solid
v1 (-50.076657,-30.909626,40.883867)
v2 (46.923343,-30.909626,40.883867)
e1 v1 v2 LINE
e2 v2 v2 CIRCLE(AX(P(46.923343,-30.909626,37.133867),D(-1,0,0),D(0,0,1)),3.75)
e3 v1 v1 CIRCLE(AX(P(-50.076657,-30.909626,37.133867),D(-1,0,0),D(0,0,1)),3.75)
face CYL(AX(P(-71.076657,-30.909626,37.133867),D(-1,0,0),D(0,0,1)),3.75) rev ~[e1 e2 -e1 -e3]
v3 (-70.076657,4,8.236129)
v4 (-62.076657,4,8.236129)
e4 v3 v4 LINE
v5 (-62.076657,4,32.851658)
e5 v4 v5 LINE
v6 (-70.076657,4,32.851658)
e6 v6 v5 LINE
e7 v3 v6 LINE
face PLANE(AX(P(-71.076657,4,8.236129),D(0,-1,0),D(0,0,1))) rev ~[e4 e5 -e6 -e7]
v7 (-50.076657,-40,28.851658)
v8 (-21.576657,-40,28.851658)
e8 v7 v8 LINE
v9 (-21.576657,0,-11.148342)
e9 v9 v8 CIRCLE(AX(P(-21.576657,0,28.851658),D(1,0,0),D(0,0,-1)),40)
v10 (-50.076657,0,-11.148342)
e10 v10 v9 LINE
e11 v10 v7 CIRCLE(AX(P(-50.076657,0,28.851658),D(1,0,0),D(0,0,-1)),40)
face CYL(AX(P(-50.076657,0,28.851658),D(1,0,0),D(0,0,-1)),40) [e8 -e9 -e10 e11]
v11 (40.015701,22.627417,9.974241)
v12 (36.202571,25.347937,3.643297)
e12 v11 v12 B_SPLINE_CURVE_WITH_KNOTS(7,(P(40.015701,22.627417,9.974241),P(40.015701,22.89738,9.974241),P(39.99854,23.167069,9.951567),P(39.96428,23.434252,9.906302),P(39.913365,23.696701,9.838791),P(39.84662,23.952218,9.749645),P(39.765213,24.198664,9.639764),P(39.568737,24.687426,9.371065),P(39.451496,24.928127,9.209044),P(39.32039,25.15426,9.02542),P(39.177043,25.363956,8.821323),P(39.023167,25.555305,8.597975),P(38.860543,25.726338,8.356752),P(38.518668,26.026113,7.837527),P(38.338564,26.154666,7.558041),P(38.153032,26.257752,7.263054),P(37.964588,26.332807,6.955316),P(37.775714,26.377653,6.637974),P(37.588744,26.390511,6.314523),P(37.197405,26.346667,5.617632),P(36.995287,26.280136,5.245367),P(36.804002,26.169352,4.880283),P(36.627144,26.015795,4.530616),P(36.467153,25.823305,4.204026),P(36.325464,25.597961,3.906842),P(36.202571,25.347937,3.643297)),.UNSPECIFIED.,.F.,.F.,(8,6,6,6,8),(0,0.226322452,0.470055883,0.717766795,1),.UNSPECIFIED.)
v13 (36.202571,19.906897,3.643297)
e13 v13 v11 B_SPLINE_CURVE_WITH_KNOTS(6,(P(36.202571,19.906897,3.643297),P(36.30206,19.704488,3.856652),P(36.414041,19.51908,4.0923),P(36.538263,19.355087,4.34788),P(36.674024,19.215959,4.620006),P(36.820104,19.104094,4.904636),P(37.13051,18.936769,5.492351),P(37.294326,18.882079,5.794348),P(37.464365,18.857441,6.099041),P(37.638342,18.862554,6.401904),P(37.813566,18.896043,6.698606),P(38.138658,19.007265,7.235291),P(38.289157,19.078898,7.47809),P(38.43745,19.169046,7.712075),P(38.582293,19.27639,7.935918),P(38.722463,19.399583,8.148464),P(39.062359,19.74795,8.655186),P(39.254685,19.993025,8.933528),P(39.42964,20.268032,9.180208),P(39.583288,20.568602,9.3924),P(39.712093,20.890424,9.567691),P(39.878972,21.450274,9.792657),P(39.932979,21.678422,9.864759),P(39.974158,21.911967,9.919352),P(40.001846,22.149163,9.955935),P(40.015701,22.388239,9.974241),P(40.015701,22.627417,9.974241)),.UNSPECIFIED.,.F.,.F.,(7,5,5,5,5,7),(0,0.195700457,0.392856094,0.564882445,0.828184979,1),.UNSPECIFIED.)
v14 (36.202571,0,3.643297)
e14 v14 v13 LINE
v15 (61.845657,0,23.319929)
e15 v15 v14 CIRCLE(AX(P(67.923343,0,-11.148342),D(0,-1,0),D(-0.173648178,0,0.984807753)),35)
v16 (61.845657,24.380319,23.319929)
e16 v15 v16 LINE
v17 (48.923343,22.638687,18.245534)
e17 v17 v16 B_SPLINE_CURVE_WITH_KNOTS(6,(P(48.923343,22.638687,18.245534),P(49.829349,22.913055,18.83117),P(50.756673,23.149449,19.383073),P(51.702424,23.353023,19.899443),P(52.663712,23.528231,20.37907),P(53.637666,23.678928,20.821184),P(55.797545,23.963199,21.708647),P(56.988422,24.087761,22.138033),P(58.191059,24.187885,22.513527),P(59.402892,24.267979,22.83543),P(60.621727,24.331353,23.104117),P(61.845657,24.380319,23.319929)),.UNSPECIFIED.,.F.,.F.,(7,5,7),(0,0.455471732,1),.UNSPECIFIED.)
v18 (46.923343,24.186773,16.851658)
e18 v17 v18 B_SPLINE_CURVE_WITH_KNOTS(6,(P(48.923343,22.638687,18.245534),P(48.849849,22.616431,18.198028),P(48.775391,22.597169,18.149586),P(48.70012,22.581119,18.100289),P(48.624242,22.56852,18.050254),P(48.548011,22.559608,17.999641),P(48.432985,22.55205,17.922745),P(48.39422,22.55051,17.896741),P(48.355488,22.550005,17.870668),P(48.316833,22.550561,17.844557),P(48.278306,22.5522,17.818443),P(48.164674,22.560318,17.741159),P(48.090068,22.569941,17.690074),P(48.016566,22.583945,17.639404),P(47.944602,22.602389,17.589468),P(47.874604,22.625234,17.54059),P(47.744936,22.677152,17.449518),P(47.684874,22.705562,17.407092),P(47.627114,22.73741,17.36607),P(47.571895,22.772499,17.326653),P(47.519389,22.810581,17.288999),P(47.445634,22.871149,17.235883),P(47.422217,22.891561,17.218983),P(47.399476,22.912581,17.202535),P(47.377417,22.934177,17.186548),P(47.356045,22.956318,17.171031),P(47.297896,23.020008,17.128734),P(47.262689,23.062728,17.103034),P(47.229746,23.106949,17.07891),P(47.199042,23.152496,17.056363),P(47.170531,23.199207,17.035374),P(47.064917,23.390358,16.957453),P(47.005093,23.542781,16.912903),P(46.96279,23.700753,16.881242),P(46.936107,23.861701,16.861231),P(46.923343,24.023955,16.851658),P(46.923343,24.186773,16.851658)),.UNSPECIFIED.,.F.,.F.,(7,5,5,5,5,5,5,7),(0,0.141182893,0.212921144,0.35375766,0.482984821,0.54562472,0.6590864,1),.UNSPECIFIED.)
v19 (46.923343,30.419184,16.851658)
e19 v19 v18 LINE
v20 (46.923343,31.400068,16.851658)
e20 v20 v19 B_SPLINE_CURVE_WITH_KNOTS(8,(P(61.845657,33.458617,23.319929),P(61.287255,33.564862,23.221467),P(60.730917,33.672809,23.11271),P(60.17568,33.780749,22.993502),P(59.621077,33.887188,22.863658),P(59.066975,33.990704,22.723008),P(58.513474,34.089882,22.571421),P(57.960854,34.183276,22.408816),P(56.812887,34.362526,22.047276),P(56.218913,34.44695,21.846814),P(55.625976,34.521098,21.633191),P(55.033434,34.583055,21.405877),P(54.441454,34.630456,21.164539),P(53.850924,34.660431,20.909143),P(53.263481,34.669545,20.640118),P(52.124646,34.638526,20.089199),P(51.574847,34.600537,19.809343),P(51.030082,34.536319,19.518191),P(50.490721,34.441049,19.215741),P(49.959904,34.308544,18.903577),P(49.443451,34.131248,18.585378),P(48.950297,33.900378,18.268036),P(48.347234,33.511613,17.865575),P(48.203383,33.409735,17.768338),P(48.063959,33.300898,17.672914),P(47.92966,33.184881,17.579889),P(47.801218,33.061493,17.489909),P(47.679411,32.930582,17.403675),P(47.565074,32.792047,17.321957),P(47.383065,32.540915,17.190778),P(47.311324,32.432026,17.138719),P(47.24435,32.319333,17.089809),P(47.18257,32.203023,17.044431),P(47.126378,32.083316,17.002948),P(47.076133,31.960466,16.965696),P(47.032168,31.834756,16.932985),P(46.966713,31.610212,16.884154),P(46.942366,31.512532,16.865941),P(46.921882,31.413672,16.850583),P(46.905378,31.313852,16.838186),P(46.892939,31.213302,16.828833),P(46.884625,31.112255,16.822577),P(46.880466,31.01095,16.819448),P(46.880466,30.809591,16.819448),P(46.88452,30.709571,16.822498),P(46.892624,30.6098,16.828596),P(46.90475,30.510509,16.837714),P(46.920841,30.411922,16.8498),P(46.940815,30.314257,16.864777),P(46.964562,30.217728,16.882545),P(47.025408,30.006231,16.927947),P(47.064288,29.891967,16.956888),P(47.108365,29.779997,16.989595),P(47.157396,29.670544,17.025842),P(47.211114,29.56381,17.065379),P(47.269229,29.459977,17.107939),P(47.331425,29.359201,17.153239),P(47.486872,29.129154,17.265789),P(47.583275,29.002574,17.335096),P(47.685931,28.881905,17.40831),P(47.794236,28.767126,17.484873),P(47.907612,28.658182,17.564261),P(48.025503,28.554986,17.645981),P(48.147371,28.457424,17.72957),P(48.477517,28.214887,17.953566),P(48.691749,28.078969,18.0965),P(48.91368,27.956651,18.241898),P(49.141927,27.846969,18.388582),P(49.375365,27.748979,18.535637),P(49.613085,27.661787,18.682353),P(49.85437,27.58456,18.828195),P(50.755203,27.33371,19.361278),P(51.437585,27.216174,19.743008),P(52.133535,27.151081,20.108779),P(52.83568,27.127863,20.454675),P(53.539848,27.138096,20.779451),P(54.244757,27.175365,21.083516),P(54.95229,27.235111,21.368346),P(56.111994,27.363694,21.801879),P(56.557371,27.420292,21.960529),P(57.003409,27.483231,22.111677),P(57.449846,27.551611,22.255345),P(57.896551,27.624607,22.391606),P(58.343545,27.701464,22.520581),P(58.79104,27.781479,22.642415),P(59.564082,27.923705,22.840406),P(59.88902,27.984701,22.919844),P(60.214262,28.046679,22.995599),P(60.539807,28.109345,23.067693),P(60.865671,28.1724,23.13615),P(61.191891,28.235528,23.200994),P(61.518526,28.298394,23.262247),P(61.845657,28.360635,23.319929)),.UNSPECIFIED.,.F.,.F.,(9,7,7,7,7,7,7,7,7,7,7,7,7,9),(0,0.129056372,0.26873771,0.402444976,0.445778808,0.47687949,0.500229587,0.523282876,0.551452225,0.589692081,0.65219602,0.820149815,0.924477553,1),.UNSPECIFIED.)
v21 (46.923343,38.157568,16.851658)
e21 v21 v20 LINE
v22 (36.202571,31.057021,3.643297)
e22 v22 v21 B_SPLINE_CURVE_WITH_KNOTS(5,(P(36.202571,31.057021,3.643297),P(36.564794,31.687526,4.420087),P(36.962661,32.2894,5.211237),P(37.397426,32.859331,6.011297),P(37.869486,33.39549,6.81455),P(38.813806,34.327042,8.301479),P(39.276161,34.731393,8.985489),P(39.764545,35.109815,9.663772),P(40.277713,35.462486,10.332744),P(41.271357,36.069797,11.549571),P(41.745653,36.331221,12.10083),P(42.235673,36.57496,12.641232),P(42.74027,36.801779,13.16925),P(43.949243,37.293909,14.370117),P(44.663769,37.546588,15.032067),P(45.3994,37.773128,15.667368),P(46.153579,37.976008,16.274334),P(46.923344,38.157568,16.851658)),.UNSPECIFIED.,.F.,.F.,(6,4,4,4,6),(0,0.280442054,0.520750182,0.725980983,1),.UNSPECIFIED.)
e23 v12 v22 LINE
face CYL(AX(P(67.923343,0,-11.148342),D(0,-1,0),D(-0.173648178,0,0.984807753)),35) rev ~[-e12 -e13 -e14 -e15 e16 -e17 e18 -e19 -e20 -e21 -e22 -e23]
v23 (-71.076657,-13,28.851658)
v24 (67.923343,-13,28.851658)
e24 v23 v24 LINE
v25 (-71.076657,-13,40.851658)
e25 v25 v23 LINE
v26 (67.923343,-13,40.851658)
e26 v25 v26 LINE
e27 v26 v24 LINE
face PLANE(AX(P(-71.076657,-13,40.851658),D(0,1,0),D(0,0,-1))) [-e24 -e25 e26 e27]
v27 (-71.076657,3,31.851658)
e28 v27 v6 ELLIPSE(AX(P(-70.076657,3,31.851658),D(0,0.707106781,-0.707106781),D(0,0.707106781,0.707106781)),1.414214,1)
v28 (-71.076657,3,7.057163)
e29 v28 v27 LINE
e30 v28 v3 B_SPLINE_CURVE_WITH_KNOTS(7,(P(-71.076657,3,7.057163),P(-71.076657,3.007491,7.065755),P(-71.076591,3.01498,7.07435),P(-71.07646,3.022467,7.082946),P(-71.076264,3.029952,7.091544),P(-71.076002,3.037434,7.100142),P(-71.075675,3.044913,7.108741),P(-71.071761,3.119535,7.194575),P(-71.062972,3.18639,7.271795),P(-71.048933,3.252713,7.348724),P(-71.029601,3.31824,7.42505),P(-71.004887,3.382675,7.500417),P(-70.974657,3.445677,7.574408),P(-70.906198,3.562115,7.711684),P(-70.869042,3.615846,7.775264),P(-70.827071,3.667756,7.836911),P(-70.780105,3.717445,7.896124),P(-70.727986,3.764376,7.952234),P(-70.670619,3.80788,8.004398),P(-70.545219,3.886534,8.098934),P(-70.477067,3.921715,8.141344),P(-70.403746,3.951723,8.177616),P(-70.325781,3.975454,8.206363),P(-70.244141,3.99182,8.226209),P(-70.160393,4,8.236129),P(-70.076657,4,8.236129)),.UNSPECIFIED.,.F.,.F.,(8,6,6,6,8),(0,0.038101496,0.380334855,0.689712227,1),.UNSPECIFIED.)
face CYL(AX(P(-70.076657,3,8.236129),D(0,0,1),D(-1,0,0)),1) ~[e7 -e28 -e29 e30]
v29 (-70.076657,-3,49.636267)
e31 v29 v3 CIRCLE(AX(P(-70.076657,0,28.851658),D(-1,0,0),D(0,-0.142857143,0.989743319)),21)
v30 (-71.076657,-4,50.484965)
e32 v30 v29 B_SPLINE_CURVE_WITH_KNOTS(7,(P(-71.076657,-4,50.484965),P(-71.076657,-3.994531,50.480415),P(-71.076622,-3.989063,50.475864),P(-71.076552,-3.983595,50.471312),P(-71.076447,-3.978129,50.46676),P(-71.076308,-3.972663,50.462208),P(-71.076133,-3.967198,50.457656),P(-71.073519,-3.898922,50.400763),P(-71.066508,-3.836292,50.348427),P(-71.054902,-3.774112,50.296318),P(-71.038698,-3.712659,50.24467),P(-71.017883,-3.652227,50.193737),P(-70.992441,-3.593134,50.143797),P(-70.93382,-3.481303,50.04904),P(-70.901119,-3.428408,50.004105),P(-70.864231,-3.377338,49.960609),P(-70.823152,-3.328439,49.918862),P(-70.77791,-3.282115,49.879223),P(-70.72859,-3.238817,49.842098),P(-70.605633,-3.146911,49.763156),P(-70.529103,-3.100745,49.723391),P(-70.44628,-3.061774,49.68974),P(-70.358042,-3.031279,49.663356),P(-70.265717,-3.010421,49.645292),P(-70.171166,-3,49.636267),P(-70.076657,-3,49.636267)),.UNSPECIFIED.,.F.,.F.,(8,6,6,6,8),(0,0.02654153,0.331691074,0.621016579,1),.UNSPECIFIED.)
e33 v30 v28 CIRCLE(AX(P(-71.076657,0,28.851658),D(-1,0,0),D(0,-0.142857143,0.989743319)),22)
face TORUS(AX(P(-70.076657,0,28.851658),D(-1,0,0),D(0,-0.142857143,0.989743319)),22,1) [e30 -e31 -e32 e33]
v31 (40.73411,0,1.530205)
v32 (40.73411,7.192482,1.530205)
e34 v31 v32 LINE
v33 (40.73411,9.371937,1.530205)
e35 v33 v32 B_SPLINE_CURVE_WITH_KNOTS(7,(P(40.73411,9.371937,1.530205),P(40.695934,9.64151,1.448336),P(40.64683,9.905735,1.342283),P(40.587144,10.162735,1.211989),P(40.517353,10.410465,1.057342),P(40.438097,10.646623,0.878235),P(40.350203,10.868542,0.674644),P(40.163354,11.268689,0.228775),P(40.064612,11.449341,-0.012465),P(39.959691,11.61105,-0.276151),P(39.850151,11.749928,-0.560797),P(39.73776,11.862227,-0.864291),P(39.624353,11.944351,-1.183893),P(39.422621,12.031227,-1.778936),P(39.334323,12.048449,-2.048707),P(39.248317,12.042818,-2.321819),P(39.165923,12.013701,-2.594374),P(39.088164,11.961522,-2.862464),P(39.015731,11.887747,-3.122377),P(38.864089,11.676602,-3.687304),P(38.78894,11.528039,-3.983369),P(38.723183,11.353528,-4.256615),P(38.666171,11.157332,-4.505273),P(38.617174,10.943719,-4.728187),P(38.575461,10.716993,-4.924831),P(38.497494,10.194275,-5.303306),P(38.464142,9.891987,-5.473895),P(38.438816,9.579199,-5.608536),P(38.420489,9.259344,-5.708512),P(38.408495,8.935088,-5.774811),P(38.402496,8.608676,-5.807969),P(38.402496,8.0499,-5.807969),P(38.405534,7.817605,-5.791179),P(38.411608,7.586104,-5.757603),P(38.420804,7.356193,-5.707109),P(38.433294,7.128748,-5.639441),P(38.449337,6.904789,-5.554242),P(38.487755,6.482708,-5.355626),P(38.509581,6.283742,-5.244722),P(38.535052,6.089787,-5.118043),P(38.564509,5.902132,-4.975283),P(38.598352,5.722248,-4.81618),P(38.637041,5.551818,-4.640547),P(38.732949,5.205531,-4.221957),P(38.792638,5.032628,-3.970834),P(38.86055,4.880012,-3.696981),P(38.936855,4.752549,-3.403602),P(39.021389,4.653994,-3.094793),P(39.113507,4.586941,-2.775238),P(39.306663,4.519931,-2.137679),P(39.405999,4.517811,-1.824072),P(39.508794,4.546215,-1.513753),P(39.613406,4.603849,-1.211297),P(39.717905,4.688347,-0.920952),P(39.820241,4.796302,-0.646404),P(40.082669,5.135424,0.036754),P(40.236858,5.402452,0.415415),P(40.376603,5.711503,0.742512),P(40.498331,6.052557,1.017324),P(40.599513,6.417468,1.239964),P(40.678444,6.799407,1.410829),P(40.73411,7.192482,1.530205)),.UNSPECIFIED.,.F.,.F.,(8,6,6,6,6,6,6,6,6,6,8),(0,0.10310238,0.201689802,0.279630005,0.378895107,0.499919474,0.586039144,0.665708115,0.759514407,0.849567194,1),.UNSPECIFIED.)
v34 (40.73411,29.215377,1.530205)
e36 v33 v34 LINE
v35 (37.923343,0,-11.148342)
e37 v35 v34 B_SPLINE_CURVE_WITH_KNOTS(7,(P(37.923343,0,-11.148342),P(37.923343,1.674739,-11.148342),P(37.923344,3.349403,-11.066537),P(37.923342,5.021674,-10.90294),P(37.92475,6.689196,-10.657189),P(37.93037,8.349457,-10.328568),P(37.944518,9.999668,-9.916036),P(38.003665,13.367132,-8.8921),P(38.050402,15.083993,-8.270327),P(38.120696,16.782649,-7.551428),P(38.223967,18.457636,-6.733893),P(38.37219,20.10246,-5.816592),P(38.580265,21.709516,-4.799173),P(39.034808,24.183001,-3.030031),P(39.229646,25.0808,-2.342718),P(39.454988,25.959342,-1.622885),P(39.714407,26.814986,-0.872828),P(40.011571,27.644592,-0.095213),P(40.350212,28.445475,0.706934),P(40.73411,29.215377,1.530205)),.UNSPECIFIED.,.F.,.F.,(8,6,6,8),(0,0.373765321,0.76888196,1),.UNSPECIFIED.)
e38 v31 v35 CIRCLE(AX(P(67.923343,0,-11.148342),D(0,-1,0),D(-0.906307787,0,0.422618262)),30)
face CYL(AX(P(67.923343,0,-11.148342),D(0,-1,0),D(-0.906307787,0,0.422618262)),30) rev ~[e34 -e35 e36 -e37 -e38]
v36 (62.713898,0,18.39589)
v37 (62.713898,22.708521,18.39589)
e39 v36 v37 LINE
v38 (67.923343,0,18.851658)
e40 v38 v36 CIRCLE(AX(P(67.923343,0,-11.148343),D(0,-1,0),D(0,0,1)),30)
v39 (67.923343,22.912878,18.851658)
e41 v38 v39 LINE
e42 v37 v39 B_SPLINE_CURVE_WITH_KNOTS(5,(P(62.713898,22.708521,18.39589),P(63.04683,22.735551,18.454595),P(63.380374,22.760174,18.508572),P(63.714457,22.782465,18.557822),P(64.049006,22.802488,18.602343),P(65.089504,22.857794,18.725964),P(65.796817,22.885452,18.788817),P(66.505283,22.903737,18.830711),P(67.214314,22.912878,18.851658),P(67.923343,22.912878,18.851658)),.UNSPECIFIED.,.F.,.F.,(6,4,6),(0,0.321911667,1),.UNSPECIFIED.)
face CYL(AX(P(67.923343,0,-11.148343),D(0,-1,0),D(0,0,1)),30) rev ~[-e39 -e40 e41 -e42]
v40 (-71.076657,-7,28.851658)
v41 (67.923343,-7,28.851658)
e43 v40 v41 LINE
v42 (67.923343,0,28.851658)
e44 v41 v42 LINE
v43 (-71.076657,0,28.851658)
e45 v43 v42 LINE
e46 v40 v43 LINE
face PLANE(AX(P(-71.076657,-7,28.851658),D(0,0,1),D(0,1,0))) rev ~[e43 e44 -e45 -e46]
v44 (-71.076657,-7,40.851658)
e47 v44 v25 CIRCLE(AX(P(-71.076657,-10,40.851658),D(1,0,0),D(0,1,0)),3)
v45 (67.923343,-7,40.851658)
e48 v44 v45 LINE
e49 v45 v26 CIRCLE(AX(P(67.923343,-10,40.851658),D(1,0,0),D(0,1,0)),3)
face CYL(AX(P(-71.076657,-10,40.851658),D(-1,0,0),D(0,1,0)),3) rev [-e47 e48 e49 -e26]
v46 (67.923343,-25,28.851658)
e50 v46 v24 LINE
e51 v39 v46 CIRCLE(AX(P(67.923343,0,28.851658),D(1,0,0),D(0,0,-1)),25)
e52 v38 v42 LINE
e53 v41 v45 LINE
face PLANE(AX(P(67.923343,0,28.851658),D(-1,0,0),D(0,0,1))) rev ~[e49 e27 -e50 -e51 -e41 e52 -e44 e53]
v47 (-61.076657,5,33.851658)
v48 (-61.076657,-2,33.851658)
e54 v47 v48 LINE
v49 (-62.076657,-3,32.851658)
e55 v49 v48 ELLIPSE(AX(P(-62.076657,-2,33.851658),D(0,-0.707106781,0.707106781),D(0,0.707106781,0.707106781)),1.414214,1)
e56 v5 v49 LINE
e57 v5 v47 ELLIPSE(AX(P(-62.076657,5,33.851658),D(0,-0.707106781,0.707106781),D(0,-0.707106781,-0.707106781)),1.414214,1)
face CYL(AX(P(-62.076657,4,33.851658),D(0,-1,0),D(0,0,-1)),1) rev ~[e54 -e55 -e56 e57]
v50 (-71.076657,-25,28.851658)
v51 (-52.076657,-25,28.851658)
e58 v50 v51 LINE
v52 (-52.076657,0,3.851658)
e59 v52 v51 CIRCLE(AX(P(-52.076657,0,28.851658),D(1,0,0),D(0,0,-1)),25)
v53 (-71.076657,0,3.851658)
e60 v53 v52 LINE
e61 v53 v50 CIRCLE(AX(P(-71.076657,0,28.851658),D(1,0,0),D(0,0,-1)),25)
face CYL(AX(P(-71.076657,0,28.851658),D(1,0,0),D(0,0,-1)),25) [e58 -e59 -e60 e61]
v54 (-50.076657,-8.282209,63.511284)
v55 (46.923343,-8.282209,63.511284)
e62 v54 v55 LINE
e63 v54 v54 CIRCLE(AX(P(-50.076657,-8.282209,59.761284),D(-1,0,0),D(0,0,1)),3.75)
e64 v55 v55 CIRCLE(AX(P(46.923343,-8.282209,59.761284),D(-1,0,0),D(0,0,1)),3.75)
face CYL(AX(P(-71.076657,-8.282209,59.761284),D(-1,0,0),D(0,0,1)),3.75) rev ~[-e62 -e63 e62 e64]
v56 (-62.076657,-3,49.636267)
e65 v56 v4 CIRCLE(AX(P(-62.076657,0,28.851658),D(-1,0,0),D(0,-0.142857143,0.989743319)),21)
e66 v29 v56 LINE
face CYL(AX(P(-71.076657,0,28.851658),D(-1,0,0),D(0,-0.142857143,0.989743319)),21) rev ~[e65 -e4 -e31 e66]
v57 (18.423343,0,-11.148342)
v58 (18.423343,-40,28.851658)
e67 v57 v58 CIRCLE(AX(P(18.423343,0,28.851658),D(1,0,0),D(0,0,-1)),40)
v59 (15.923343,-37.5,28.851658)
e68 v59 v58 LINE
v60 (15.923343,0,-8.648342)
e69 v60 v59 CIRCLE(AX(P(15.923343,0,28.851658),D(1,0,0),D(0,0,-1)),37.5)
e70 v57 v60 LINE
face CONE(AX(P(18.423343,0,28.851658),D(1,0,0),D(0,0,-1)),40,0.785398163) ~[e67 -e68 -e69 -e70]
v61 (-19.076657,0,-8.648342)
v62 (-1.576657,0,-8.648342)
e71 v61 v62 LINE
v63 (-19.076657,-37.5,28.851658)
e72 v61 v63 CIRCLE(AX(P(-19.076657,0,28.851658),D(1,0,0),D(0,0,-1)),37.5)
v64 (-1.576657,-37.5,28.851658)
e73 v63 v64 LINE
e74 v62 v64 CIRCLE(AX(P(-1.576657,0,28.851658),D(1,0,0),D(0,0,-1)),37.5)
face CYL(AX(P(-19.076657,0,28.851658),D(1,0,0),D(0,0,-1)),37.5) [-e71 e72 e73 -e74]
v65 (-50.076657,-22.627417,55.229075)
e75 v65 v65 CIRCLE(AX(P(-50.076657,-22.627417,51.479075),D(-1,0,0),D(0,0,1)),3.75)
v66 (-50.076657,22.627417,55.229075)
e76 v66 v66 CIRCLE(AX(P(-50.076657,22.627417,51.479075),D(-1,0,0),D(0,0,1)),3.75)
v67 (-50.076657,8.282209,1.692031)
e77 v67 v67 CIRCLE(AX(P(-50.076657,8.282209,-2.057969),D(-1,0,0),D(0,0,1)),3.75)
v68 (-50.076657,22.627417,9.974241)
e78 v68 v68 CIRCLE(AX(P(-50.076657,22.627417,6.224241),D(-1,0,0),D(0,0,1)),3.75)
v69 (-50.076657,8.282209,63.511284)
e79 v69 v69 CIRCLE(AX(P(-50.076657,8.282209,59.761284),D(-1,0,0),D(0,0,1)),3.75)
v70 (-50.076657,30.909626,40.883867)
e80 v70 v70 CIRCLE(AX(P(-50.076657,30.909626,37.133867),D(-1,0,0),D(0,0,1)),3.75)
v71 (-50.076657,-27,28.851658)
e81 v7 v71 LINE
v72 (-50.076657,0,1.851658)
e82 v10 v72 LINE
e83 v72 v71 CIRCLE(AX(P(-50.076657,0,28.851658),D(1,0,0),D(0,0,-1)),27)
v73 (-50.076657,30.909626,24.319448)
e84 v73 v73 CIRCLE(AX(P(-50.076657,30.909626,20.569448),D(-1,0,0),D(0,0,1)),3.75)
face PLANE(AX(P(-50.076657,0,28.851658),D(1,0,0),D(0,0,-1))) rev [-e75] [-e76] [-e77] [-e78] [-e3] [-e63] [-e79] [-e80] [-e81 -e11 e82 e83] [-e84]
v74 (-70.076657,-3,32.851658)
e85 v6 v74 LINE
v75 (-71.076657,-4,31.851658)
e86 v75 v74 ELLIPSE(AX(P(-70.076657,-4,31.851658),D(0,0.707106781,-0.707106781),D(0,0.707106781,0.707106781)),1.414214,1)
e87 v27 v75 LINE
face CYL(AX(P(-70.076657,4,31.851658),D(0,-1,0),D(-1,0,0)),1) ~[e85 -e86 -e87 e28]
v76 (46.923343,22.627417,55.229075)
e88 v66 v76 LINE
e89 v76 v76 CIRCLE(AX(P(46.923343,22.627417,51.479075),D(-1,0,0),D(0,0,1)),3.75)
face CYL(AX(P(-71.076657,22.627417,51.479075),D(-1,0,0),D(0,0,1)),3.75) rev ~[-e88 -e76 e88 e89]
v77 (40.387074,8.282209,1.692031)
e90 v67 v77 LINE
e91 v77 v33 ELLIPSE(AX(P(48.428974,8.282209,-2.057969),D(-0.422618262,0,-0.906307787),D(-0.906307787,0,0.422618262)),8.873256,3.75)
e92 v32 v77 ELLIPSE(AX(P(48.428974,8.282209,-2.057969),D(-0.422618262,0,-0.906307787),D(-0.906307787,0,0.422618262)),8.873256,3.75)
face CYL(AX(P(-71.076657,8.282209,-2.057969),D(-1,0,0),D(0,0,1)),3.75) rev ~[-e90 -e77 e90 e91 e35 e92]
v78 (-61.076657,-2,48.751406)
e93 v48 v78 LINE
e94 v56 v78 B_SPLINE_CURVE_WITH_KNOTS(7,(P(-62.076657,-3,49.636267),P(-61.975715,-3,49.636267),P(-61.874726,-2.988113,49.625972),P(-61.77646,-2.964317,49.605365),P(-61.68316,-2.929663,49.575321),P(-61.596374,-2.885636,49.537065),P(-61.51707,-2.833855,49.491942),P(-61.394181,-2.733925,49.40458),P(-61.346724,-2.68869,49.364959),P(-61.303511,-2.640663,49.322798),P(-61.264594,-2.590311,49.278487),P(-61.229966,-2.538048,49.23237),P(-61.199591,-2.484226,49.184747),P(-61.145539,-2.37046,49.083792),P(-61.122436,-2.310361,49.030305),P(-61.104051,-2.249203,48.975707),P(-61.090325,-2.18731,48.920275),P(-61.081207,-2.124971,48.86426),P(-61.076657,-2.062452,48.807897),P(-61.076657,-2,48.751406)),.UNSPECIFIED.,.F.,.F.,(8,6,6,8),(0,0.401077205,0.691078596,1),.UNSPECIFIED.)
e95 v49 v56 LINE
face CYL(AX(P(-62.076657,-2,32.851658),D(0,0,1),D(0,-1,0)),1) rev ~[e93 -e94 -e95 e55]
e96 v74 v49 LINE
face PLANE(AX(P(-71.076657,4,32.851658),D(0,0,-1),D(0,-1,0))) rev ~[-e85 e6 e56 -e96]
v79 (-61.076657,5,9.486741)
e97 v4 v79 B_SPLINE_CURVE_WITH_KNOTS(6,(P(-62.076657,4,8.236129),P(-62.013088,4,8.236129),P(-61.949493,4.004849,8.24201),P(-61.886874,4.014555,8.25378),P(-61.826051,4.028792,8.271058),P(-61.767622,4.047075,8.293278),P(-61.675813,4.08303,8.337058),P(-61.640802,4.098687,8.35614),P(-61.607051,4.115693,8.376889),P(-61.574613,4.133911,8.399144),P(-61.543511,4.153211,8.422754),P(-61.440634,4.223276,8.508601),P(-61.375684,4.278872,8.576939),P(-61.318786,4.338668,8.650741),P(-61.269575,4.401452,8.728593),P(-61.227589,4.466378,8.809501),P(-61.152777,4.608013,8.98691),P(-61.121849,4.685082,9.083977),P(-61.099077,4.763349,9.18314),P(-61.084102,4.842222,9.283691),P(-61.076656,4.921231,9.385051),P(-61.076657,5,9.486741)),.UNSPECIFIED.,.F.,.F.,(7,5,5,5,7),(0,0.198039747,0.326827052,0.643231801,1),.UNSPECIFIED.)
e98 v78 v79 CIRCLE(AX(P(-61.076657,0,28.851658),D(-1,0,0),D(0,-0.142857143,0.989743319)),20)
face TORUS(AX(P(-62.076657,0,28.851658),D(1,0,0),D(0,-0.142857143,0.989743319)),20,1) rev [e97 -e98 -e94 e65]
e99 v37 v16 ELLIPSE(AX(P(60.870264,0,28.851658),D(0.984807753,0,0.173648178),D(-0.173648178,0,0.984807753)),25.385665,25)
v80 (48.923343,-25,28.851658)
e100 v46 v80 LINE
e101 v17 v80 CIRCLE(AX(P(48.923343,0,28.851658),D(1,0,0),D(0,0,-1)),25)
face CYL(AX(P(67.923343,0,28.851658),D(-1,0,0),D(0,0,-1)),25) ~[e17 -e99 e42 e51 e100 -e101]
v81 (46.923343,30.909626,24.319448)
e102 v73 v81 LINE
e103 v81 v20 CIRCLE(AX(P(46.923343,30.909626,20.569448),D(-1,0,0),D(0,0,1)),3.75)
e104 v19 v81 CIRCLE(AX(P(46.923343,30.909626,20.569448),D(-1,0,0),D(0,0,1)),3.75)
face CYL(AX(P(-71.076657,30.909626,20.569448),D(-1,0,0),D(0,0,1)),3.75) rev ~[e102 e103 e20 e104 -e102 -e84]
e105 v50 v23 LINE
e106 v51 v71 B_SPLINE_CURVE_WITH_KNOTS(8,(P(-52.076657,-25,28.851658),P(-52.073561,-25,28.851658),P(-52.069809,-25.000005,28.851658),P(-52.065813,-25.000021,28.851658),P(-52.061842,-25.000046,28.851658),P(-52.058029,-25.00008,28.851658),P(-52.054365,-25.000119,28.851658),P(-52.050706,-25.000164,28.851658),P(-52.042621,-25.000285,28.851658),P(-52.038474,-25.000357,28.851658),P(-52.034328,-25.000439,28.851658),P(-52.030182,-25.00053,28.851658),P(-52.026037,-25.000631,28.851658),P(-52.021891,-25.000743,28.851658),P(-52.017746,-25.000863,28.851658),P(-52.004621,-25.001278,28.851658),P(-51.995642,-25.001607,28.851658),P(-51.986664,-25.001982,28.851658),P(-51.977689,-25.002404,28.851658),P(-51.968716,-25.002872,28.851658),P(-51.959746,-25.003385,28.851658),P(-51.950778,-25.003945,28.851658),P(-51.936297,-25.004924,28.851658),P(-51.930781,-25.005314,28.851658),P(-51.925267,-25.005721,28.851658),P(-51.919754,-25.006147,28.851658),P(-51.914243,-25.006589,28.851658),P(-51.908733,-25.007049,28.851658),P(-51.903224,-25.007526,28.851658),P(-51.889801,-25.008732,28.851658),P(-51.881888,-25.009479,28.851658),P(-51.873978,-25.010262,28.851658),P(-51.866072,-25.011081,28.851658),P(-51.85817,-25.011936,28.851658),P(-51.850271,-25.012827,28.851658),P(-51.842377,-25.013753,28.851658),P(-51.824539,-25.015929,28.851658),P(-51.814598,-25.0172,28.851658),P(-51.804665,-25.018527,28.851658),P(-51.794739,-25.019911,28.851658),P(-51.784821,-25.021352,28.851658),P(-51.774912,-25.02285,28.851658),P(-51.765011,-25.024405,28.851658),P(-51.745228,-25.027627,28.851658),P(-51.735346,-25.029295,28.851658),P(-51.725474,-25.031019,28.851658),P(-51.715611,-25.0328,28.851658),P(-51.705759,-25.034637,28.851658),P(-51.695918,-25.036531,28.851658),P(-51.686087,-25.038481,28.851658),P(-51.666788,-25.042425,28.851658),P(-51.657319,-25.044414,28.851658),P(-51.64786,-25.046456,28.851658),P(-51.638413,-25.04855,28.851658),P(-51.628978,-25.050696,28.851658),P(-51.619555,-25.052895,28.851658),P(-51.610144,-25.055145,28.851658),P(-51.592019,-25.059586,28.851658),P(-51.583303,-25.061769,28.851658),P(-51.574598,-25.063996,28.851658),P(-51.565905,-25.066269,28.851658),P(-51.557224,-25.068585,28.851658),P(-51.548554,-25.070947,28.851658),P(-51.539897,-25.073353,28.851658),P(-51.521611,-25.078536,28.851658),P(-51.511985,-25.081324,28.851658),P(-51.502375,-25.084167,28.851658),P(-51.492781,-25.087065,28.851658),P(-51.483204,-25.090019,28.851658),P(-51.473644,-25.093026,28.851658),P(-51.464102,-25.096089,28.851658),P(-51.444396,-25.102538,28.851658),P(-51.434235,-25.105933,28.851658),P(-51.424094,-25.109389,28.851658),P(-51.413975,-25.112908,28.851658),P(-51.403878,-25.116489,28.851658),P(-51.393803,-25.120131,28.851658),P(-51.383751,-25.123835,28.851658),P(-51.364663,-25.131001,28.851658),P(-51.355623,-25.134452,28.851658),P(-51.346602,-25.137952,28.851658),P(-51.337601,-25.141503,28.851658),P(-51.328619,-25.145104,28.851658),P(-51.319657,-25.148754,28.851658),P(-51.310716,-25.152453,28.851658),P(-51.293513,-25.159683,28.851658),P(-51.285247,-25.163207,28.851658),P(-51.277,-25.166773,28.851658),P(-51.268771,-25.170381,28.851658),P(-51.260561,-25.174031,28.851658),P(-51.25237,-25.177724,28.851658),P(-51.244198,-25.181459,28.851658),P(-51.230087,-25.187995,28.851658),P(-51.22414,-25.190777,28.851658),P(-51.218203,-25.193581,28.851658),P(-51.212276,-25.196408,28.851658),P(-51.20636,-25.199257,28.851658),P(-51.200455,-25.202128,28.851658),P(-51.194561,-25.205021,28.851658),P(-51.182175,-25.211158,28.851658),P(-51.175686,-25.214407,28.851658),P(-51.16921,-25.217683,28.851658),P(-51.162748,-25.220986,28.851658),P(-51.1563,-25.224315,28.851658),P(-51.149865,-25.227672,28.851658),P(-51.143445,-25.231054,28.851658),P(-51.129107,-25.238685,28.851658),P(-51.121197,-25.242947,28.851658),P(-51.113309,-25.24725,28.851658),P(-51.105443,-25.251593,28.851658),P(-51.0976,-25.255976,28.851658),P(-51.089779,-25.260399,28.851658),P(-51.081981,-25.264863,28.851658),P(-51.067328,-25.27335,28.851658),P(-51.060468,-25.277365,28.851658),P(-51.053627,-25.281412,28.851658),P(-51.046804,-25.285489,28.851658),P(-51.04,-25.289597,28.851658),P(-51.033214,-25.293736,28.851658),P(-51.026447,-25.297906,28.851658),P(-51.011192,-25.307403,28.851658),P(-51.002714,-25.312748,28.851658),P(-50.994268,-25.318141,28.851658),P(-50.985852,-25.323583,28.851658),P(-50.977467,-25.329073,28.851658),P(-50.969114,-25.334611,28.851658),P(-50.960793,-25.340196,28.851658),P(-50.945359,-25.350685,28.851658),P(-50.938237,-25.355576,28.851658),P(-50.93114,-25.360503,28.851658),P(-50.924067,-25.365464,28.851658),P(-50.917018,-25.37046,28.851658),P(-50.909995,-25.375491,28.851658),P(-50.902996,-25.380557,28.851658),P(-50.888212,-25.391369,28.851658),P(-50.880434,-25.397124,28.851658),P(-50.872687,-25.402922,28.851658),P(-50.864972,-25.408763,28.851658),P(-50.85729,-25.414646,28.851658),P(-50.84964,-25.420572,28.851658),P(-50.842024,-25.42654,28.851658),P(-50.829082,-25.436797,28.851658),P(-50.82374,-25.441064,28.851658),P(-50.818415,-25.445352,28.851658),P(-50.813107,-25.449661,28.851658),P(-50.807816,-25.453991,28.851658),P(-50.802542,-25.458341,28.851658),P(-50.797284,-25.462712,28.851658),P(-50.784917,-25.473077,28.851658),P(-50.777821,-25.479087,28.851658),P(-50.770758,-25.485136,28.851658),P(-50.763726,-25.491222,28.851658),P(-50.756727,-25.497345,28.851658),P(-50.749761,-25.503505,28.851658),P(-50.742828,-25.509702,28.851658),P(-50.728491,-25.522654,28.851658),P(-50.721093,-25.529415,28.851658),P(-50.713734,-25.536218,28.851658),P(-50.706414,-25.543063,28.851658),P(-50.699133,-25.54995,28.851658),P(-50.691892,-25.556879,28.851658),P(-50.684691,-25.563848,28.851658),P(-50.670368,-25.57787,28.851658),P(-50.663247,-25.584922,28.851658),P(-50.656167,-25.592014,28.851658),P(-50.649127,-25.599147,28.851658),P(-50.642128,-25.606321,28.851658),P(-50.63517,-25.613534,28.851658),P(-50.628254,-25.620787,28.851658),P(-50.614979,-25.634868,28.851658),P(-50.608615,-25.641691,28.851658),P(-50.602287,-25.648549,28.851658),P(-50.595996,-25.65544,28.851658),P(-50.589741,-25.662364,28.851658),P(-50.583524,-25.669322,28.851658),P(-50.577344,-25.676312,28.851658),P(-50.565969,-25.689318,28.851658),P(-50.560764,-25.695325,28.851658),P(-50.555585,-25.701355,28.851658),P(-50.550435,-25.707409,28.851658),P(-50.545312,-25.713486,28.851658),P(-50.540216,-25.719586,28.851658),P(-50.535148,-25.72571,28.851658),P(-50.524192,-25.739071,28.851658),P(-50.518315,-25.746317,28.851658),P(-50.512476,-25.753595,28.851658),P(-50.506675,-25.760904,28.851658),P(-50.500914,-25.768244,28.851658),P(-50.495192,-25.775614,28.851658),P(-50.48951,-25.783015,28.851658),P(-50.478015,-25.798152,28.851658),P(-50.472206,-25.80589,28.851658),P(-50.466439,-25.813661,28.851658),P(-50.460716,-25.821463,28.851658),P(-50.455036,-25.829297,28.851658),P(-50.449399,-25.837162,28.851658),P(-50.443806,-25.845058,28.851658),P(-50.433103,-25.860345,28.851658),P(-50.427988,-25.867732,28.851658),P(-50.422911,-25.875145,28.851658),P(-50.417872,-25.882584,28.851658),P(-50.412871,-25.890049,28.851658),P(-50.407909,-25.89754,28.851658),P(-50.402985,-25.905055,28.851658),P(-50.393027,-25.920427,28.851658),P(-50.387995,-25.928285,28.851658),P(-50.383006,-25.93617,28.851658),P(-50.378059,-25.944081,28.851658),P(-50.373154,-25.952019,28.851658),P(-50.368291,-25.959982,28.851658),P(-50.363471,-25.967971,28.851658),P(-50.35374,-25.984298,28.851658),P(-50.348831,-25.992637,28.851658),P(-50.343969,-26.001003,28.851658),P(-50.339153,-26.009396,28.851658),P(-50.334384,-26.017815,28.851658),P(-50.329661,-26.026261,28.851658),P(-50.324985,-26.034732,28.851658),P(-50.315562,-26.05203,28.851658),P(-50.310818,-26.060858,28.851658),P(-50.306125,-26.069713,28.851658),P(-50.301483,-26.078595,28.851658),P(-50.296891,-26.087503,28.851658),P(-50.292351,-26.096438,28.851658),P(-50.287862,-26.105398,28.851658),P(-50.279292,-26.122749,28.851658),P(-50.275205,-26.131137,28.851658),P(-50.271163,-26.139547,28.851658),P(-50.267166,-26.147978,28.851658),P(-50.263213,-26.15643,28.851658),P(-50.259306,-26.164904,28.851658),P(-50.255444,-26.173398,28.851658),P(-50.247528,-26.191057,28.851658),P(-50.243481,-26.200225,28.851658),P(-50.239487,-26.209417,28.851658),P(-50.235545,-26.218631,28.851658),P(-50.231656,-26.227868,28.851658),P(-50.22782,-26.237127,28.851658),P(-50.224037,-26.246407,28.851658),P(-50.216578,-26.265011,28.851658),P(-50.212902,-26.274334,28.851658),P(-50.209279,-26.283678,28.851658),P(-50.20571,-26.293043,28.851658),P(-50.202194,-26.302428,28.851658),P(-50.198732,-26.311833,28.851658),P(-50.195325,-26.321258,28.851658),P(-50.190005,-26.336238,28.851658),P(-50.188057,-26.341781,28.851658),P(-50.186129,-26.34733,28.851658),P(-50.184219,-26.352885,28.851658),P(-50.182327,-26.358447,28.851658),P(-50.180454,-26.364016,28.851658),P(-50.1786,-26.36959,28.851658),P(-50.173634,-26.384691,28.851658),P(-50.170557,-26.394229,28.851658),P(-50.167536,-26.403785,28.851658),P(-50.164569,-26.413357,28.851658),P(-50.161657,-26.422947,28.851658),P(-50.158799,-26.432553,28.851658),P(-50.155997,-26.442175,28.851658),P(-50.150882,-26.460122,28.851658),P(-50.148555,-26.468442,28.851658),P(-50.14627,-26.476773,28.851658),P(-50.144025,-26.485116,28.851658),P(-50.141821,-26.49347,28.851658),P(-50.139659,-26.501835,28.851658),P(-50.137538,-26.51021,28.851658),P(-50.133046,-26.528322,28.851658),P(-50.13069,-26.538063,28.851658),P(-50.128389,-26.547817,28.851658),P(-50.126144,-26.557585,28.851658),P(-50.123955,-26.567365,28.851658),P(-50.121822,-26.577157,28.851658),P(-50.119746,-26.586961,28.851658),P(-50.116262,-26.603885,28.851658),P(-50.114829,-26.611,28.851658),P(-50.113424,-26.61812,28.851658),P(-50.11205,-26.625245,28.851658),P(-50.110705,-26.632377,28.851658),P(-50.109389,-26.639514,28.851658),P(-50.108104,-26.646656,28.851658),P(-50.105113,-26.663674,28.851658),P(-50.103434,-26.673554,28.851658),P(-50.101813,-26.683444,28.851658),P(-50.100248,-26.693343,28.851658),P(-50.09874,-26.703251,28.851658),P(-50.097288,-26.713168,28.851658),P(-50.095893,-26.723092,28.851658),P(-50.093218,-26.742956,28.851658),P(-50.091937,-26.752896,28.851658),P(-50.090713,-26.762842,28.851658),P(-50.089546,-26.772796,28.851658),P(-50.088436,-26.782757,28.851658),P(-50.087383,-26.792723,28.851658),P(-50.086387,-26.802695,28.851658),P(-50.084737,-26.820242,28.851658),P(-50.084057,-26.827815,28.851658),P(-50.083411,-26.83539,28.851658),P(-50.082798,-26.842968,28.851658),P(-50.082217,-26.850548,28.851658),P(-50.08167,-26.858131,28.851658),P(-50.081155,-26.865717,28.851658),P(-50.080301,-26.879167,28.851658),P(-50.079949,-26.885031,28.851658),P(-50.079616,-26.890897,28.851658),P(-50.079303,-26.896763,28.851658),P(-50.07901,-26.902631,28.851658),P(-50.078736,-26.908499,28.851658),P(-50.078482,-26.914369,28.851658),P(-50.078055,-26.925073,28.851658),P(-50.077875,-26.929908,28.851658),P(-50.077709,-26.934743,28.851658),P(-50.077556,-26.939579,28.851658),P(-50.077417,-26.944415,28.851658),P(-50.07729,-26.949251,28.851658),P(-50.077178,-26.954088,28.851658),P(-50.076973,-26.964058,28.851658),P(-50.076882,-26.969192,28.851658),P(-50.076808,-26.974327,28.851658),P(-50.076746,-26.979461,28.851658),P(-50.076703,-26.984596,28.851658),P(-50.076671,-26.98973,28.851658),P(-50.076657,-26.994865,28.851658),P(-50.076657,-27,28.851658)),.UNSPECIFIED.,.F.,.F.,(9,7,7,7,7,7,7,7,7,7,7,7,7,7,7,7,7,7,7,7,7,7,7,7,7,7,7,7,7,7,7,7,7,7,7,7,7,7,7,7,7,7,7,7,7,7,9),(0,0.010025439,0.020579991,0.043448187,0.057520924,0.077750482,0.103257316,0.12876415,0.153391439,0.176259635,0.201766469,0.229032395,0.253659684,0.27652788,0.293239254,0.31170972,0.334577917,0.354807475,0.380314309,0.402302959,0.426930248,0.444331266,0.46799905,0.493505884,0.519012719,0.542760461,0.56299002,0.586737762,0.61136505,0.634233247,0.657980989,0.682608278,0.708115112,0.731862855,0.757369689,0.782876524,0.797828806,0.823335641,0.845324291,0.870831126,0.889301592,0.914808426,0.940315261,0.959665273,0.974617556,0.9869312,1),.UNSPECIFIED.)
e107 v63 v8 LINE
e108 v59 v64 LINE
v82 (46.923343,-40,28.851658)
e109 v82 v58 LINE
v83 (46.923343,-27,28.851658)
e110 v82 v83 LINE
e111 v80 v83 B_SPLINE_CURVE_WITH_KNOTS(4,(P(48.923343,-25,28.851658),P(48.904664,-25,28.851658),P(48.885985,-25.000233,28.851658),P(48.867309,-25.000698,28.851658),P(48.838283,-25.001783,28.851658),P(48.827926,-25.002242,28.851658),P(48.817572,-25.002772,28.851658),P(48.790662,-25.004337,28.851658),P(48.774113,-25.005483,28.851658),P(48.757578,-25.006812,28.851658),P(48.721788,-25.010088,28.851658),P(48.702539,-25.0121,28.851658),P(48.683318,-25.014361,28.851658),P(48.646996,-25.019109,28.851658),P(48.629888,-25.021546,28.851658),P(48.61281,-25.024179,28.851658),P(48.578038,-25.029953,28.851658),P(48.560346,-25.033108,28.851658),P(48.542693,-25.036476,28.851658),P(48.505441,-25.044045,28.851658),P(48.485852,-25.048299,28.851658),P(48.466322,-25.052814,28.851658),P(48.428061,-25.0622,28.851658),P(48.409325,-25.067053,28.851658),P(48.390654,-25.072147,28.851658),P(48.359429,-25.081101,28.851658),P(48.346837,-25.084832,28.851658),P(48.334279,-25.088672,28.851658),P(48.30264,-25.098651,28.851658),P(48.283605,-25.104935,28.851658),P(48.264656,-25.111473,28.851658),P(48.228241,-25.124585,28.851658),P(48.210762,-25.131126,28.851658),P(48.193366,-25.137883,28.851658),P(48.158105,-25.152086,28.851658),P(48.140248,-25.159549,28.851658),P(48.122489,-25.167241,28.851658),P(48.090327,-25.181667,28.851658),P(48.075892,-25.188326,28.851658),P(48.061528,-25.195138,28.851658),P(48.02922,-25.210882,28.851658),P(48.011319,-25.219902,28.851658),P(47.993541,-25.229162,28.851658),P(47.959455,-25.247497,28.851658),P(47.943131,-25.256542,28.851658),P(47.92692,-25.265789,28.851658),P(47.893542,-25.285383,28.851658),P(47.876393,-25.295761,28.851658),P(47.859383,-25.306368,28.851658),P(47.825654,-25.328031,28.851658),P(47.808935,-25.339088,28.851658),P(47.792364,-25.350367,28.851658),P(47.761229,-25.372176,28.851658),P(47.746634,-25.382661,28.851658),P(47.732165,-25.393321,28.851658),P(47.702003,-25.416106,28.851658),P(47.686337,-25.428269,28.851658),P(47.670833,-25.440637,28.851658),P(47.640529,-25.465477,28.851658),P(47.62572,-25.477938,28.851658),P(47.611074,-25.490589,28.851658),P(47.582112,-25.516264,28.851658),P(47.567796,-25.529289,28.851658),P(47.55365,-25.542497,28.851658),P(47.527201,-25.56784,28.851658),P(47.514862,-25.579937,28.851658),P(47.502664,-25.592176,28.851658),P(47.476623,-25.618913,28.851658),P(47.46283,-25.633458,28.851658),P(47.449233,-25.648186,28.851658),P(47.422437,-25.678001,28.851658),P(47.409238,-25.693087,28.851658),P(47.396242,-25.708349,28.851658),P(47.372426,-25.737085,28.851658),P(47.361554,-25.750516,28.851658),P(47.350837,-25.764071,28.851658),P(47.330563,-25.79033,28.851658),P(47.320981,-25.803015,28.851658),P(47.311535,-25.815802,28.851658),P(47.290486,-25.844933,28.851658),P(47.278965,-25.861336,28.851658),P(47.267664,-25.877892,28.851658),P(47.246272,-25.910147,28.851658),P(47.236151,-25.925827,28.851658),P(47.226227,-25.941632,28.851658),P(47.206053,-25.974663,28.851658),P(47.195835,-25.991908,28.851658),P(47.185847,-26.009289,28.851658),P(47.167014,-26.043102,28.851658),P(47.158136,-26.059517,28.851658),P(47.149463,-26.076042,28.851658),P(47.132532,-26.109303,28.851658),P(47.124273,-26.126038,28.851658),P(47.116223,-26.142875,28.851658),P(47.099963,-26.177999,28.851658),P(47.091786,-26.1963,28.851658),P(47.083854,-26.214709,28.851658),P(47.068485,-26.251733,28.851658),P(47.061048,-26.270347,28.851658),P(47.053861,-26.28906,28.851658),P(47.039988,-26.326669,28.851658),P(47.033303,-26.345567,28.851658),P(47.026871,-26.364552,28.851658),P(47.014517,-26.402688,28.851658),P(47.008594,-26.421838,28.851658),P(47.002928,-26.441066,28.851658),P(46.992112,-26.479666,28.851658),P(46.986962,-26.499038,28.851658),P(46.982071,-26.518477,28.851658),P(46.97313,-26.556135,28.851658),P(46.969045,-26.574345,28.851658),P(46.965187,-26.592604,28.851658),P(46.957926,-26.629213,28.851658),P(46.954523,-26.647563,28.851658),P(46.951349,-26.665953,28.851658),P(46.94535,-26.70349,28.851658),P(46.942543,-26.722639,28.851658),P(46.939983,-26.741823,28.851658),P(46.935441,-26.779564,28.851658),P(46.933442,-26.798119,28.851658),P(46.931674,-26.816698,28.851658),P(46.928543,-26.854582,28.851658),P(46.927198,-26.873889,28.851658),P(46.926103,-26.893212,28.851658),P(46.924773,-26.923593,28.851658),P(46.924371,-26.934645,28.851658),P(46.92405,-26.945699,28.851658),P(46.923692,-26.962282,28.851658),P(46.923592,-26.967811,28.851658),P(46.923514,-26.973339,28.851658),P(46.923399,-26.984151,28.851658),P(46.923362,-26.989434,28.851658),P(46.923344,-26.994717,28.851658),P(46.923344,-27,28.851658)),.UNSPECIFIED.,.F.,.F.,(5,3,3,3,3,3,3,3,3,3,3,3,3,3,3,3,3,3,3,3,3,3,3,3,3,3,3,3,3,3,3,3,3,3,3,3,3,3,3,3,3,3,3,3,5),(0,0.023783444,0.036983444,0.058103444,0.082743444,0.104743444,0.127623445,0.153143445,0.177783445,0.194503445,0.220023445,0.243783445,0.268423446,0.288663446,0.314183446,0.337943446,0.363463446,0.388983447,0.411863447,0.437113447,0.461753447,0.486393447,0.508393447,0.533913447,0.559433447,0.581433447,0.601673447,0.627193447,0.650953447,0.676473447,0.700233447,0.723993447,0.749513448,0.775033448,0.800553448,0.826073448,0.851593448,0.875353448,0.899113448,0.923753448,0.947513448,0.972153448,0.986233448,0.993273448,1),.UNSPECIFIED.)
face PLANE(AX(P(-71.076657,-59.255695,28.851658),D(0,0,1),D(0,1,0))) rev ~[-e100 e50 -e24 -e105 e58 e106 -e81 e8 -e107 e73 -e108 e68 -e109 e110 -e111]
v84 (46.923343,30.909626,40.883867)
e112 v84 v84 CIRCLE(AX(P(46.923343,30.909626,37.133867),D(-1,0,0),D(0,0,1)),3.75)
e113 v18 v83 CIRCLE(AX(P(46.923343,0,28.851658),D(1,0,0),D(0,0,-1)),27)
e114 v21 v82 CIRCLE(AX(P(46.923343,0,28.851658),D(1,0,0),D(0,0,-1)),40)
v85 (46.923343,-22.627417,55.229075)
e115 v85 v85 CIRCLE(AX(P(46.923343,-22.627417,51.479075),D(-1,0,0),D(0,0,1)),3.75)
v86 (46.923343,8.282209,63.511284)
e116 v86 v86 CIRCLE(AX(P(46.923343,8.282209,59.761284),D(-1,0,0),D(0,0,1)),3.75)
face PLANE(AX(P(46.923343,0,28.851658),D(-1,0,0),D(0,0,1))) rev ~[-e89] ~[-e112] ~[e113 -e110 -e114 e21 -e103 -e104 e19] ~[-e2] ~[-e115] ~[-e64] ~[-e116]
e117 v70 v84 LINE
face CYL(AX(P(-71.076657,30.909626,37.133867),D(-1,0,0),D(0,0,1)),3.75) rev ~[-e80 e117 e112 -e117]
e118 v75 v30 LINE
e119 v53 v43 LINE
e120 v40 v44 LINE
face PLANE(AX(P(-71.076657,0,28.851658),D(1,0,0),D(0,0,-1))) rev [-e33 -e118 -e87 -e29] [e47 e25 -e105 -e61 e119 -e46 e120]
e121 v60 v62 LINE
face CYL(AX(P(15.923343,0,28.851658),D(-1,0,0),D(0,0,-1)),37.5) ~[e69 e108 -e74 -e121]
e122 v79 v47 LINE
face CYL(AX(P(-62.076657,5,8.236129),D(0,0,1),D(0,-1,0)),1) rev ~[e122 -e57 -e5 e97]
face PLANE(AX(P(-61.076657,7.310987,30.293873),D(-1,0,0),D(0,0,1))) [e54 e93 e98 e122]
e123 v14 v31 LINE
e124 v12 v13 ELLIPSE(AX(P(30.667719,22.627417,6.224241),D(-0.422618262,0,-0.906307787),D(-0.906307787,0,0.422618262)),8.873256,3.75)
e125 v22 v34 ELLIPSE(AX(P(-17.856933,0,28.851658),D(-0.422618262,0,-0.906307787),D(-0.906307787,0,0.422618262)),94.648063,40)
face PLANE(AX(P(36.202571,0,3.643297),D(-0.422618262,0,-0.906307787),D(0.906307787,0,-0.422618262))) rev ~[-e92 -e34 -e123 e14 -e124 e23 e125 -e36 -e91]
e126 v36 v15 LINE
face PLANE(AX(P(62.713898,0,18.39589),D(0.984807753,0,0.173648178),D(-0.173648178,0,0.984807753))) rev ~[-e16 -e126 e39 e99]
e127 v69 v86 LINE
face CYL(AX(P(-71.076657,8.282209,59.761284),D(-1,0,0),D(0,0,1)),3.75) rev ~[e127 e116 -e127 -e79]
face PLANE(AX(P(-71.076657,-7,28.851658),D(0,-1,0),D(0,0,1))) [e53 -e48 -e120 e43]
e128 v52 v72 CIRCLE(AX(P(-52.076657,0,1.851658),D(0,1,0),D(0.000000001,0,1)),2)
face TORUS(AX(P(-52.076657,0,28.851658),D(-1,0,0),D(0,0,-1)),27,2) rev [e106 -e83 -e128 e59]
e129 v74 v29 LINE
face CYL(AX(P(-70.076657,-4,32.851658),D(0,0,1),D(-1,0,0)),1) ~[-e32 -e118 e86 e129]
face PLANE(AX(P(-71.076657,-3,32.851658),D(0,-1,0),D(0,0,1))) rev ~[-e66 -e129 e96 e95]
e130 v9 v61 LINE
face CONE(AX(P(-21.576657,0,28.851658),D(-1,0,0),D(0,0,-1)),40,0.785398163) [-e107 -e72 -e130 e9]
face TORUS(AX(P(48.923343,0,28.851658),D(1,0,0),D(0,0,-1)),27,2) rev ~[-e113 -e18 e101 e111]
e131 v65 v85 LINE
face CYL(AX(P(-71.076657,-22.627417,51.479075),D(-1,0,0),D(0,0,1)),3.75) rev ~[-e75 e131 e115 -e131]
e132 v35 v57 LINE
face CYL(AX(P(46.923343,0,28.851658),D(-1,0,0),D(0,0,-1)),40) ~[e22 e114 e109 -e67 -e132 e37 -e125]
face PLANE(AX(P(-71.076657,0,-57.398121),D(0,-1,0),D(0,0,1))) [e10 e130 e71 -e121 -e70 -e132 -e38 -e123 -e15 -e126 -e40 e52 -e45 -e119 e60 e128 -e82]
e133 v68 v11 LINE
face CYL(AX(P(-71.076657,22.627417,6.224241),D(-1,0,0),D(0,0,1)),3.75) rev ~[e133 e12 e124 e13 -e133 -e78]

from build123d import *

# Parameters (mm, degrees)
SKETCH2_W               = 86.249778207
SKETCH2_H               = 59.255694893
CUT_EXTRUDE1_DEPTH      = 1
CUT_EXTRUDE1_DEPTH_BACK = 139
CUT_EXTRUDE2_REACH      = 42
SKETCH4_R               = 3.75
CUT_EXTRUDE3_DEPTH      = 139
CUT_EXTRUDE4_DEPTH      = 10
FILLET1_R               = 1


with BuildPart() as part:
    # Sketch1 → Revolve1 (revolve)
    with BuildSketch(Plane(origin=(0, 0, 0), x_dir=(1, 0, 0), z_dir=(0, 1, 0))):
        with BuildLine():
            Line((-71.076656526, -28.85165756), (-71.076656526, -3.85165756))
            Line((-71.076656526, -3.85165756), (-52.076656526, -3.85165756))
            ThreePointArc((-52.076656526, -3.85165756), (-50.662442964, -3.265871122), (-50.076656526, -1.85165756))
            Line((-50.076656526, -1.85165756), (-50.076656526, 11.14834244))
            Line((-50.076656526, 11.14834244), (-21.576656526, 11.14834244))
            Line((-21.576656526, 11.14834244), (-19.076656526, 8.64834244))
            Line((-19.076656526, 8.64834244), (-1.576656526, 8.64834244))
            Line((-1.576656526, 8.64834244), (-1.576656526, -28.85165756))
            Line((-1.576656526, -28.85165756), (-71.076656526, -28.85165756))
        make_face()
    revolve1 = revolve(axis=Axis((-71.076656526, 0, 28.85165756), (1, 0, 0)))

    # Mirror6: Revolve1 across plane
    add(revolve1.mirror(Plane(origin=(-1.576656526, 0, 28.85165756), x_dir=(0, 0, 1), z_dir=(-1, 0, 0))))

    # Sketch2 → Cut-Extrude1 (cut, two sides)
    with BuildSketch(Plane.ZY.offset(71.076656526)) as cut_extrude1_sk:
        with Locations((-14.273231544, -29.627847447)):
            Rectangle(SKETCH2_W, SKETCH2_H)
        with BuildLine():
            Line((40.85165756, -13), (15.970307324, -13))
            ThreePointArc((15.970307324, -13), (12.970307324, -10), (15.970307324, -7))
            Line((15.970307324, -7), (40.85165756, -7))
            ThreePointArc((40.85165756, -7), (43.85165756, -10), (40.85165756, -13))
        make_face()
    extrude(amount=CUT_EXTRUDE1_DEPTH, mode=Mode.SUBTRACT)
    extrude(cut_extrude1_sk.sketch, amount=-CUT_EXTRUDE1_DEPTH_BACK, mode=Mode.SUBTRACT)

    # Sketch3 → Cut-Extrude2 (cut, up to next)
    with BuildSketch(Plane.XZ, mode=Mode.PRIVATE) as cut_extrude2_sk1:
        with BuildLine():
            ThreePointArc((61.845657255, 23.319928915), (46.616693458, 16.61902447), (36.202570927, 3.643296721))
            Line((36.202570927, 3.643296721), (40.734109863, 1.530205412))
            ThreePointArc((40.734109863, 1.530205412), (38.63446326, -4.655154022), (37.923343474, -11.14834244))
            Line((37.923343474, -11.14834244), (46.923343474, -11.14834244))
            Line((46.923343474, -11.14834244), (46.923343474, 1.85165756))
            ThreePointArc((46.923343474, 1.85165756), (47.509129911, 3.265871122), (48.923343474, 3.85165756))
            Line((48.923343474, 3.85165756), (67.923343474, 3.85165756))
            Line((67.923343474, 3.85165756), (67.923343474, 18.85165756))
            ThreePointArc((67.923343474, 18.85165756), (65.308671191, 18.737498502), (62.713898144, 18.39589015))
            Line((62.713898144, 18.39589015), (61.845657255, 23.319928915))
        make_face()
    cut_extrude2_tool1 = extrude(cut_extrude2_sk1.sketch, amount=-CUT_EXTRUDE2_REACH, mode=Mode.PRIVATE) & part.part
    add(cut_extrude2_tool1.solids().sort_by_distance((52.095068, 0, 8.03678))[0], mode=Mode.SUBTRACT)

    # Sketch4 → Cut-Extrude3 (cut)
    with BuildSketch(Plane.ZY.offset(71.076656526)):
        with Locations((20.569448116, 30.909626441)):
            Circle(SKETCH4_R)
        with Locations((37.133867003, 30.909626441)):
            Circle(SKETCH4_R)
        with Locations((51.479074558, 22.627416998)):
            Circle(SKETCH4_R)
        with Locations((59.761284001, 8.282209443)):
            Circle(SKETCH4_R)
        with Locations((59.761284001, -8.282209443)):
            Circle(SKETCH4_R)
        with Locations((51.479074558, -22.627416998)):
            Circle(SKETCH4_R)
        with Locations((37.133867003, -30.909626441)):
            Circle(SKETCH4_R)
        with Locations((20.569448116, -30.909626441)):
            Circle(SKETCH4_R)
        with Locations((6.224240562, -22.627416998)):
            Circle(SKETCH4_R)
        with Locations((-2.057968882, -8.282209443)):
            Circle(SKETCH4_R)
        with Locations((-2.057968882, 8.282209443)):
            Circle(SKETCH4_R)
        with Locations((6.224240562, 22.627416998)):
            Circle(SKETCH4_R)
    extrude(amount=-CUT_EXTRUDE3_DEPTH, mode=Mode.SUBTRACT)

    # Sketch6 → Cut-Extrude4 (cut)
    with BuildSketch(Plane.ZY.offset(71.076656526)):
        with BuildLine():
            Line((32.85165756, 4), (32.85165756, -3))
            Line((32.85165756, -3), (40.85165756, -3))
            Line((40.85165756, -3), (49.63626725, -3))
            ThreePointArc((49.63626725, -3), (32.352678431, 20.706106656), (8.236129431, 4))
            Line((8.236129431, 4), (32.85165756, 4))
        make_face()
    extrude(amount=-CUT_EXTRUDE4_DEPTH, mode=Mode.SUBTRACT)

    # Fillet1
    fillet1_edges = [part.edges().sort_by_distance(p)[0] for p in [
        (-61.076656526, -3, 41.243962405),
        (-61.076656526, 0.5, 32.85165756),
        (-61.076656526, 4, 20.543893496),
        (-61.076656526, 20.706106656, 32.352678431),
        (-71.076656526, -3, 41.243962405),
        (-71.076656526, 20.706106656, 32.352678431),
        (-71.076656526, 4, 20.543893496),
        (-71.076656526, 0.5, 32.85165756),
    ]]
    fillet(fillet1_edges, radius=FILLET1_R)


solid = part.part
